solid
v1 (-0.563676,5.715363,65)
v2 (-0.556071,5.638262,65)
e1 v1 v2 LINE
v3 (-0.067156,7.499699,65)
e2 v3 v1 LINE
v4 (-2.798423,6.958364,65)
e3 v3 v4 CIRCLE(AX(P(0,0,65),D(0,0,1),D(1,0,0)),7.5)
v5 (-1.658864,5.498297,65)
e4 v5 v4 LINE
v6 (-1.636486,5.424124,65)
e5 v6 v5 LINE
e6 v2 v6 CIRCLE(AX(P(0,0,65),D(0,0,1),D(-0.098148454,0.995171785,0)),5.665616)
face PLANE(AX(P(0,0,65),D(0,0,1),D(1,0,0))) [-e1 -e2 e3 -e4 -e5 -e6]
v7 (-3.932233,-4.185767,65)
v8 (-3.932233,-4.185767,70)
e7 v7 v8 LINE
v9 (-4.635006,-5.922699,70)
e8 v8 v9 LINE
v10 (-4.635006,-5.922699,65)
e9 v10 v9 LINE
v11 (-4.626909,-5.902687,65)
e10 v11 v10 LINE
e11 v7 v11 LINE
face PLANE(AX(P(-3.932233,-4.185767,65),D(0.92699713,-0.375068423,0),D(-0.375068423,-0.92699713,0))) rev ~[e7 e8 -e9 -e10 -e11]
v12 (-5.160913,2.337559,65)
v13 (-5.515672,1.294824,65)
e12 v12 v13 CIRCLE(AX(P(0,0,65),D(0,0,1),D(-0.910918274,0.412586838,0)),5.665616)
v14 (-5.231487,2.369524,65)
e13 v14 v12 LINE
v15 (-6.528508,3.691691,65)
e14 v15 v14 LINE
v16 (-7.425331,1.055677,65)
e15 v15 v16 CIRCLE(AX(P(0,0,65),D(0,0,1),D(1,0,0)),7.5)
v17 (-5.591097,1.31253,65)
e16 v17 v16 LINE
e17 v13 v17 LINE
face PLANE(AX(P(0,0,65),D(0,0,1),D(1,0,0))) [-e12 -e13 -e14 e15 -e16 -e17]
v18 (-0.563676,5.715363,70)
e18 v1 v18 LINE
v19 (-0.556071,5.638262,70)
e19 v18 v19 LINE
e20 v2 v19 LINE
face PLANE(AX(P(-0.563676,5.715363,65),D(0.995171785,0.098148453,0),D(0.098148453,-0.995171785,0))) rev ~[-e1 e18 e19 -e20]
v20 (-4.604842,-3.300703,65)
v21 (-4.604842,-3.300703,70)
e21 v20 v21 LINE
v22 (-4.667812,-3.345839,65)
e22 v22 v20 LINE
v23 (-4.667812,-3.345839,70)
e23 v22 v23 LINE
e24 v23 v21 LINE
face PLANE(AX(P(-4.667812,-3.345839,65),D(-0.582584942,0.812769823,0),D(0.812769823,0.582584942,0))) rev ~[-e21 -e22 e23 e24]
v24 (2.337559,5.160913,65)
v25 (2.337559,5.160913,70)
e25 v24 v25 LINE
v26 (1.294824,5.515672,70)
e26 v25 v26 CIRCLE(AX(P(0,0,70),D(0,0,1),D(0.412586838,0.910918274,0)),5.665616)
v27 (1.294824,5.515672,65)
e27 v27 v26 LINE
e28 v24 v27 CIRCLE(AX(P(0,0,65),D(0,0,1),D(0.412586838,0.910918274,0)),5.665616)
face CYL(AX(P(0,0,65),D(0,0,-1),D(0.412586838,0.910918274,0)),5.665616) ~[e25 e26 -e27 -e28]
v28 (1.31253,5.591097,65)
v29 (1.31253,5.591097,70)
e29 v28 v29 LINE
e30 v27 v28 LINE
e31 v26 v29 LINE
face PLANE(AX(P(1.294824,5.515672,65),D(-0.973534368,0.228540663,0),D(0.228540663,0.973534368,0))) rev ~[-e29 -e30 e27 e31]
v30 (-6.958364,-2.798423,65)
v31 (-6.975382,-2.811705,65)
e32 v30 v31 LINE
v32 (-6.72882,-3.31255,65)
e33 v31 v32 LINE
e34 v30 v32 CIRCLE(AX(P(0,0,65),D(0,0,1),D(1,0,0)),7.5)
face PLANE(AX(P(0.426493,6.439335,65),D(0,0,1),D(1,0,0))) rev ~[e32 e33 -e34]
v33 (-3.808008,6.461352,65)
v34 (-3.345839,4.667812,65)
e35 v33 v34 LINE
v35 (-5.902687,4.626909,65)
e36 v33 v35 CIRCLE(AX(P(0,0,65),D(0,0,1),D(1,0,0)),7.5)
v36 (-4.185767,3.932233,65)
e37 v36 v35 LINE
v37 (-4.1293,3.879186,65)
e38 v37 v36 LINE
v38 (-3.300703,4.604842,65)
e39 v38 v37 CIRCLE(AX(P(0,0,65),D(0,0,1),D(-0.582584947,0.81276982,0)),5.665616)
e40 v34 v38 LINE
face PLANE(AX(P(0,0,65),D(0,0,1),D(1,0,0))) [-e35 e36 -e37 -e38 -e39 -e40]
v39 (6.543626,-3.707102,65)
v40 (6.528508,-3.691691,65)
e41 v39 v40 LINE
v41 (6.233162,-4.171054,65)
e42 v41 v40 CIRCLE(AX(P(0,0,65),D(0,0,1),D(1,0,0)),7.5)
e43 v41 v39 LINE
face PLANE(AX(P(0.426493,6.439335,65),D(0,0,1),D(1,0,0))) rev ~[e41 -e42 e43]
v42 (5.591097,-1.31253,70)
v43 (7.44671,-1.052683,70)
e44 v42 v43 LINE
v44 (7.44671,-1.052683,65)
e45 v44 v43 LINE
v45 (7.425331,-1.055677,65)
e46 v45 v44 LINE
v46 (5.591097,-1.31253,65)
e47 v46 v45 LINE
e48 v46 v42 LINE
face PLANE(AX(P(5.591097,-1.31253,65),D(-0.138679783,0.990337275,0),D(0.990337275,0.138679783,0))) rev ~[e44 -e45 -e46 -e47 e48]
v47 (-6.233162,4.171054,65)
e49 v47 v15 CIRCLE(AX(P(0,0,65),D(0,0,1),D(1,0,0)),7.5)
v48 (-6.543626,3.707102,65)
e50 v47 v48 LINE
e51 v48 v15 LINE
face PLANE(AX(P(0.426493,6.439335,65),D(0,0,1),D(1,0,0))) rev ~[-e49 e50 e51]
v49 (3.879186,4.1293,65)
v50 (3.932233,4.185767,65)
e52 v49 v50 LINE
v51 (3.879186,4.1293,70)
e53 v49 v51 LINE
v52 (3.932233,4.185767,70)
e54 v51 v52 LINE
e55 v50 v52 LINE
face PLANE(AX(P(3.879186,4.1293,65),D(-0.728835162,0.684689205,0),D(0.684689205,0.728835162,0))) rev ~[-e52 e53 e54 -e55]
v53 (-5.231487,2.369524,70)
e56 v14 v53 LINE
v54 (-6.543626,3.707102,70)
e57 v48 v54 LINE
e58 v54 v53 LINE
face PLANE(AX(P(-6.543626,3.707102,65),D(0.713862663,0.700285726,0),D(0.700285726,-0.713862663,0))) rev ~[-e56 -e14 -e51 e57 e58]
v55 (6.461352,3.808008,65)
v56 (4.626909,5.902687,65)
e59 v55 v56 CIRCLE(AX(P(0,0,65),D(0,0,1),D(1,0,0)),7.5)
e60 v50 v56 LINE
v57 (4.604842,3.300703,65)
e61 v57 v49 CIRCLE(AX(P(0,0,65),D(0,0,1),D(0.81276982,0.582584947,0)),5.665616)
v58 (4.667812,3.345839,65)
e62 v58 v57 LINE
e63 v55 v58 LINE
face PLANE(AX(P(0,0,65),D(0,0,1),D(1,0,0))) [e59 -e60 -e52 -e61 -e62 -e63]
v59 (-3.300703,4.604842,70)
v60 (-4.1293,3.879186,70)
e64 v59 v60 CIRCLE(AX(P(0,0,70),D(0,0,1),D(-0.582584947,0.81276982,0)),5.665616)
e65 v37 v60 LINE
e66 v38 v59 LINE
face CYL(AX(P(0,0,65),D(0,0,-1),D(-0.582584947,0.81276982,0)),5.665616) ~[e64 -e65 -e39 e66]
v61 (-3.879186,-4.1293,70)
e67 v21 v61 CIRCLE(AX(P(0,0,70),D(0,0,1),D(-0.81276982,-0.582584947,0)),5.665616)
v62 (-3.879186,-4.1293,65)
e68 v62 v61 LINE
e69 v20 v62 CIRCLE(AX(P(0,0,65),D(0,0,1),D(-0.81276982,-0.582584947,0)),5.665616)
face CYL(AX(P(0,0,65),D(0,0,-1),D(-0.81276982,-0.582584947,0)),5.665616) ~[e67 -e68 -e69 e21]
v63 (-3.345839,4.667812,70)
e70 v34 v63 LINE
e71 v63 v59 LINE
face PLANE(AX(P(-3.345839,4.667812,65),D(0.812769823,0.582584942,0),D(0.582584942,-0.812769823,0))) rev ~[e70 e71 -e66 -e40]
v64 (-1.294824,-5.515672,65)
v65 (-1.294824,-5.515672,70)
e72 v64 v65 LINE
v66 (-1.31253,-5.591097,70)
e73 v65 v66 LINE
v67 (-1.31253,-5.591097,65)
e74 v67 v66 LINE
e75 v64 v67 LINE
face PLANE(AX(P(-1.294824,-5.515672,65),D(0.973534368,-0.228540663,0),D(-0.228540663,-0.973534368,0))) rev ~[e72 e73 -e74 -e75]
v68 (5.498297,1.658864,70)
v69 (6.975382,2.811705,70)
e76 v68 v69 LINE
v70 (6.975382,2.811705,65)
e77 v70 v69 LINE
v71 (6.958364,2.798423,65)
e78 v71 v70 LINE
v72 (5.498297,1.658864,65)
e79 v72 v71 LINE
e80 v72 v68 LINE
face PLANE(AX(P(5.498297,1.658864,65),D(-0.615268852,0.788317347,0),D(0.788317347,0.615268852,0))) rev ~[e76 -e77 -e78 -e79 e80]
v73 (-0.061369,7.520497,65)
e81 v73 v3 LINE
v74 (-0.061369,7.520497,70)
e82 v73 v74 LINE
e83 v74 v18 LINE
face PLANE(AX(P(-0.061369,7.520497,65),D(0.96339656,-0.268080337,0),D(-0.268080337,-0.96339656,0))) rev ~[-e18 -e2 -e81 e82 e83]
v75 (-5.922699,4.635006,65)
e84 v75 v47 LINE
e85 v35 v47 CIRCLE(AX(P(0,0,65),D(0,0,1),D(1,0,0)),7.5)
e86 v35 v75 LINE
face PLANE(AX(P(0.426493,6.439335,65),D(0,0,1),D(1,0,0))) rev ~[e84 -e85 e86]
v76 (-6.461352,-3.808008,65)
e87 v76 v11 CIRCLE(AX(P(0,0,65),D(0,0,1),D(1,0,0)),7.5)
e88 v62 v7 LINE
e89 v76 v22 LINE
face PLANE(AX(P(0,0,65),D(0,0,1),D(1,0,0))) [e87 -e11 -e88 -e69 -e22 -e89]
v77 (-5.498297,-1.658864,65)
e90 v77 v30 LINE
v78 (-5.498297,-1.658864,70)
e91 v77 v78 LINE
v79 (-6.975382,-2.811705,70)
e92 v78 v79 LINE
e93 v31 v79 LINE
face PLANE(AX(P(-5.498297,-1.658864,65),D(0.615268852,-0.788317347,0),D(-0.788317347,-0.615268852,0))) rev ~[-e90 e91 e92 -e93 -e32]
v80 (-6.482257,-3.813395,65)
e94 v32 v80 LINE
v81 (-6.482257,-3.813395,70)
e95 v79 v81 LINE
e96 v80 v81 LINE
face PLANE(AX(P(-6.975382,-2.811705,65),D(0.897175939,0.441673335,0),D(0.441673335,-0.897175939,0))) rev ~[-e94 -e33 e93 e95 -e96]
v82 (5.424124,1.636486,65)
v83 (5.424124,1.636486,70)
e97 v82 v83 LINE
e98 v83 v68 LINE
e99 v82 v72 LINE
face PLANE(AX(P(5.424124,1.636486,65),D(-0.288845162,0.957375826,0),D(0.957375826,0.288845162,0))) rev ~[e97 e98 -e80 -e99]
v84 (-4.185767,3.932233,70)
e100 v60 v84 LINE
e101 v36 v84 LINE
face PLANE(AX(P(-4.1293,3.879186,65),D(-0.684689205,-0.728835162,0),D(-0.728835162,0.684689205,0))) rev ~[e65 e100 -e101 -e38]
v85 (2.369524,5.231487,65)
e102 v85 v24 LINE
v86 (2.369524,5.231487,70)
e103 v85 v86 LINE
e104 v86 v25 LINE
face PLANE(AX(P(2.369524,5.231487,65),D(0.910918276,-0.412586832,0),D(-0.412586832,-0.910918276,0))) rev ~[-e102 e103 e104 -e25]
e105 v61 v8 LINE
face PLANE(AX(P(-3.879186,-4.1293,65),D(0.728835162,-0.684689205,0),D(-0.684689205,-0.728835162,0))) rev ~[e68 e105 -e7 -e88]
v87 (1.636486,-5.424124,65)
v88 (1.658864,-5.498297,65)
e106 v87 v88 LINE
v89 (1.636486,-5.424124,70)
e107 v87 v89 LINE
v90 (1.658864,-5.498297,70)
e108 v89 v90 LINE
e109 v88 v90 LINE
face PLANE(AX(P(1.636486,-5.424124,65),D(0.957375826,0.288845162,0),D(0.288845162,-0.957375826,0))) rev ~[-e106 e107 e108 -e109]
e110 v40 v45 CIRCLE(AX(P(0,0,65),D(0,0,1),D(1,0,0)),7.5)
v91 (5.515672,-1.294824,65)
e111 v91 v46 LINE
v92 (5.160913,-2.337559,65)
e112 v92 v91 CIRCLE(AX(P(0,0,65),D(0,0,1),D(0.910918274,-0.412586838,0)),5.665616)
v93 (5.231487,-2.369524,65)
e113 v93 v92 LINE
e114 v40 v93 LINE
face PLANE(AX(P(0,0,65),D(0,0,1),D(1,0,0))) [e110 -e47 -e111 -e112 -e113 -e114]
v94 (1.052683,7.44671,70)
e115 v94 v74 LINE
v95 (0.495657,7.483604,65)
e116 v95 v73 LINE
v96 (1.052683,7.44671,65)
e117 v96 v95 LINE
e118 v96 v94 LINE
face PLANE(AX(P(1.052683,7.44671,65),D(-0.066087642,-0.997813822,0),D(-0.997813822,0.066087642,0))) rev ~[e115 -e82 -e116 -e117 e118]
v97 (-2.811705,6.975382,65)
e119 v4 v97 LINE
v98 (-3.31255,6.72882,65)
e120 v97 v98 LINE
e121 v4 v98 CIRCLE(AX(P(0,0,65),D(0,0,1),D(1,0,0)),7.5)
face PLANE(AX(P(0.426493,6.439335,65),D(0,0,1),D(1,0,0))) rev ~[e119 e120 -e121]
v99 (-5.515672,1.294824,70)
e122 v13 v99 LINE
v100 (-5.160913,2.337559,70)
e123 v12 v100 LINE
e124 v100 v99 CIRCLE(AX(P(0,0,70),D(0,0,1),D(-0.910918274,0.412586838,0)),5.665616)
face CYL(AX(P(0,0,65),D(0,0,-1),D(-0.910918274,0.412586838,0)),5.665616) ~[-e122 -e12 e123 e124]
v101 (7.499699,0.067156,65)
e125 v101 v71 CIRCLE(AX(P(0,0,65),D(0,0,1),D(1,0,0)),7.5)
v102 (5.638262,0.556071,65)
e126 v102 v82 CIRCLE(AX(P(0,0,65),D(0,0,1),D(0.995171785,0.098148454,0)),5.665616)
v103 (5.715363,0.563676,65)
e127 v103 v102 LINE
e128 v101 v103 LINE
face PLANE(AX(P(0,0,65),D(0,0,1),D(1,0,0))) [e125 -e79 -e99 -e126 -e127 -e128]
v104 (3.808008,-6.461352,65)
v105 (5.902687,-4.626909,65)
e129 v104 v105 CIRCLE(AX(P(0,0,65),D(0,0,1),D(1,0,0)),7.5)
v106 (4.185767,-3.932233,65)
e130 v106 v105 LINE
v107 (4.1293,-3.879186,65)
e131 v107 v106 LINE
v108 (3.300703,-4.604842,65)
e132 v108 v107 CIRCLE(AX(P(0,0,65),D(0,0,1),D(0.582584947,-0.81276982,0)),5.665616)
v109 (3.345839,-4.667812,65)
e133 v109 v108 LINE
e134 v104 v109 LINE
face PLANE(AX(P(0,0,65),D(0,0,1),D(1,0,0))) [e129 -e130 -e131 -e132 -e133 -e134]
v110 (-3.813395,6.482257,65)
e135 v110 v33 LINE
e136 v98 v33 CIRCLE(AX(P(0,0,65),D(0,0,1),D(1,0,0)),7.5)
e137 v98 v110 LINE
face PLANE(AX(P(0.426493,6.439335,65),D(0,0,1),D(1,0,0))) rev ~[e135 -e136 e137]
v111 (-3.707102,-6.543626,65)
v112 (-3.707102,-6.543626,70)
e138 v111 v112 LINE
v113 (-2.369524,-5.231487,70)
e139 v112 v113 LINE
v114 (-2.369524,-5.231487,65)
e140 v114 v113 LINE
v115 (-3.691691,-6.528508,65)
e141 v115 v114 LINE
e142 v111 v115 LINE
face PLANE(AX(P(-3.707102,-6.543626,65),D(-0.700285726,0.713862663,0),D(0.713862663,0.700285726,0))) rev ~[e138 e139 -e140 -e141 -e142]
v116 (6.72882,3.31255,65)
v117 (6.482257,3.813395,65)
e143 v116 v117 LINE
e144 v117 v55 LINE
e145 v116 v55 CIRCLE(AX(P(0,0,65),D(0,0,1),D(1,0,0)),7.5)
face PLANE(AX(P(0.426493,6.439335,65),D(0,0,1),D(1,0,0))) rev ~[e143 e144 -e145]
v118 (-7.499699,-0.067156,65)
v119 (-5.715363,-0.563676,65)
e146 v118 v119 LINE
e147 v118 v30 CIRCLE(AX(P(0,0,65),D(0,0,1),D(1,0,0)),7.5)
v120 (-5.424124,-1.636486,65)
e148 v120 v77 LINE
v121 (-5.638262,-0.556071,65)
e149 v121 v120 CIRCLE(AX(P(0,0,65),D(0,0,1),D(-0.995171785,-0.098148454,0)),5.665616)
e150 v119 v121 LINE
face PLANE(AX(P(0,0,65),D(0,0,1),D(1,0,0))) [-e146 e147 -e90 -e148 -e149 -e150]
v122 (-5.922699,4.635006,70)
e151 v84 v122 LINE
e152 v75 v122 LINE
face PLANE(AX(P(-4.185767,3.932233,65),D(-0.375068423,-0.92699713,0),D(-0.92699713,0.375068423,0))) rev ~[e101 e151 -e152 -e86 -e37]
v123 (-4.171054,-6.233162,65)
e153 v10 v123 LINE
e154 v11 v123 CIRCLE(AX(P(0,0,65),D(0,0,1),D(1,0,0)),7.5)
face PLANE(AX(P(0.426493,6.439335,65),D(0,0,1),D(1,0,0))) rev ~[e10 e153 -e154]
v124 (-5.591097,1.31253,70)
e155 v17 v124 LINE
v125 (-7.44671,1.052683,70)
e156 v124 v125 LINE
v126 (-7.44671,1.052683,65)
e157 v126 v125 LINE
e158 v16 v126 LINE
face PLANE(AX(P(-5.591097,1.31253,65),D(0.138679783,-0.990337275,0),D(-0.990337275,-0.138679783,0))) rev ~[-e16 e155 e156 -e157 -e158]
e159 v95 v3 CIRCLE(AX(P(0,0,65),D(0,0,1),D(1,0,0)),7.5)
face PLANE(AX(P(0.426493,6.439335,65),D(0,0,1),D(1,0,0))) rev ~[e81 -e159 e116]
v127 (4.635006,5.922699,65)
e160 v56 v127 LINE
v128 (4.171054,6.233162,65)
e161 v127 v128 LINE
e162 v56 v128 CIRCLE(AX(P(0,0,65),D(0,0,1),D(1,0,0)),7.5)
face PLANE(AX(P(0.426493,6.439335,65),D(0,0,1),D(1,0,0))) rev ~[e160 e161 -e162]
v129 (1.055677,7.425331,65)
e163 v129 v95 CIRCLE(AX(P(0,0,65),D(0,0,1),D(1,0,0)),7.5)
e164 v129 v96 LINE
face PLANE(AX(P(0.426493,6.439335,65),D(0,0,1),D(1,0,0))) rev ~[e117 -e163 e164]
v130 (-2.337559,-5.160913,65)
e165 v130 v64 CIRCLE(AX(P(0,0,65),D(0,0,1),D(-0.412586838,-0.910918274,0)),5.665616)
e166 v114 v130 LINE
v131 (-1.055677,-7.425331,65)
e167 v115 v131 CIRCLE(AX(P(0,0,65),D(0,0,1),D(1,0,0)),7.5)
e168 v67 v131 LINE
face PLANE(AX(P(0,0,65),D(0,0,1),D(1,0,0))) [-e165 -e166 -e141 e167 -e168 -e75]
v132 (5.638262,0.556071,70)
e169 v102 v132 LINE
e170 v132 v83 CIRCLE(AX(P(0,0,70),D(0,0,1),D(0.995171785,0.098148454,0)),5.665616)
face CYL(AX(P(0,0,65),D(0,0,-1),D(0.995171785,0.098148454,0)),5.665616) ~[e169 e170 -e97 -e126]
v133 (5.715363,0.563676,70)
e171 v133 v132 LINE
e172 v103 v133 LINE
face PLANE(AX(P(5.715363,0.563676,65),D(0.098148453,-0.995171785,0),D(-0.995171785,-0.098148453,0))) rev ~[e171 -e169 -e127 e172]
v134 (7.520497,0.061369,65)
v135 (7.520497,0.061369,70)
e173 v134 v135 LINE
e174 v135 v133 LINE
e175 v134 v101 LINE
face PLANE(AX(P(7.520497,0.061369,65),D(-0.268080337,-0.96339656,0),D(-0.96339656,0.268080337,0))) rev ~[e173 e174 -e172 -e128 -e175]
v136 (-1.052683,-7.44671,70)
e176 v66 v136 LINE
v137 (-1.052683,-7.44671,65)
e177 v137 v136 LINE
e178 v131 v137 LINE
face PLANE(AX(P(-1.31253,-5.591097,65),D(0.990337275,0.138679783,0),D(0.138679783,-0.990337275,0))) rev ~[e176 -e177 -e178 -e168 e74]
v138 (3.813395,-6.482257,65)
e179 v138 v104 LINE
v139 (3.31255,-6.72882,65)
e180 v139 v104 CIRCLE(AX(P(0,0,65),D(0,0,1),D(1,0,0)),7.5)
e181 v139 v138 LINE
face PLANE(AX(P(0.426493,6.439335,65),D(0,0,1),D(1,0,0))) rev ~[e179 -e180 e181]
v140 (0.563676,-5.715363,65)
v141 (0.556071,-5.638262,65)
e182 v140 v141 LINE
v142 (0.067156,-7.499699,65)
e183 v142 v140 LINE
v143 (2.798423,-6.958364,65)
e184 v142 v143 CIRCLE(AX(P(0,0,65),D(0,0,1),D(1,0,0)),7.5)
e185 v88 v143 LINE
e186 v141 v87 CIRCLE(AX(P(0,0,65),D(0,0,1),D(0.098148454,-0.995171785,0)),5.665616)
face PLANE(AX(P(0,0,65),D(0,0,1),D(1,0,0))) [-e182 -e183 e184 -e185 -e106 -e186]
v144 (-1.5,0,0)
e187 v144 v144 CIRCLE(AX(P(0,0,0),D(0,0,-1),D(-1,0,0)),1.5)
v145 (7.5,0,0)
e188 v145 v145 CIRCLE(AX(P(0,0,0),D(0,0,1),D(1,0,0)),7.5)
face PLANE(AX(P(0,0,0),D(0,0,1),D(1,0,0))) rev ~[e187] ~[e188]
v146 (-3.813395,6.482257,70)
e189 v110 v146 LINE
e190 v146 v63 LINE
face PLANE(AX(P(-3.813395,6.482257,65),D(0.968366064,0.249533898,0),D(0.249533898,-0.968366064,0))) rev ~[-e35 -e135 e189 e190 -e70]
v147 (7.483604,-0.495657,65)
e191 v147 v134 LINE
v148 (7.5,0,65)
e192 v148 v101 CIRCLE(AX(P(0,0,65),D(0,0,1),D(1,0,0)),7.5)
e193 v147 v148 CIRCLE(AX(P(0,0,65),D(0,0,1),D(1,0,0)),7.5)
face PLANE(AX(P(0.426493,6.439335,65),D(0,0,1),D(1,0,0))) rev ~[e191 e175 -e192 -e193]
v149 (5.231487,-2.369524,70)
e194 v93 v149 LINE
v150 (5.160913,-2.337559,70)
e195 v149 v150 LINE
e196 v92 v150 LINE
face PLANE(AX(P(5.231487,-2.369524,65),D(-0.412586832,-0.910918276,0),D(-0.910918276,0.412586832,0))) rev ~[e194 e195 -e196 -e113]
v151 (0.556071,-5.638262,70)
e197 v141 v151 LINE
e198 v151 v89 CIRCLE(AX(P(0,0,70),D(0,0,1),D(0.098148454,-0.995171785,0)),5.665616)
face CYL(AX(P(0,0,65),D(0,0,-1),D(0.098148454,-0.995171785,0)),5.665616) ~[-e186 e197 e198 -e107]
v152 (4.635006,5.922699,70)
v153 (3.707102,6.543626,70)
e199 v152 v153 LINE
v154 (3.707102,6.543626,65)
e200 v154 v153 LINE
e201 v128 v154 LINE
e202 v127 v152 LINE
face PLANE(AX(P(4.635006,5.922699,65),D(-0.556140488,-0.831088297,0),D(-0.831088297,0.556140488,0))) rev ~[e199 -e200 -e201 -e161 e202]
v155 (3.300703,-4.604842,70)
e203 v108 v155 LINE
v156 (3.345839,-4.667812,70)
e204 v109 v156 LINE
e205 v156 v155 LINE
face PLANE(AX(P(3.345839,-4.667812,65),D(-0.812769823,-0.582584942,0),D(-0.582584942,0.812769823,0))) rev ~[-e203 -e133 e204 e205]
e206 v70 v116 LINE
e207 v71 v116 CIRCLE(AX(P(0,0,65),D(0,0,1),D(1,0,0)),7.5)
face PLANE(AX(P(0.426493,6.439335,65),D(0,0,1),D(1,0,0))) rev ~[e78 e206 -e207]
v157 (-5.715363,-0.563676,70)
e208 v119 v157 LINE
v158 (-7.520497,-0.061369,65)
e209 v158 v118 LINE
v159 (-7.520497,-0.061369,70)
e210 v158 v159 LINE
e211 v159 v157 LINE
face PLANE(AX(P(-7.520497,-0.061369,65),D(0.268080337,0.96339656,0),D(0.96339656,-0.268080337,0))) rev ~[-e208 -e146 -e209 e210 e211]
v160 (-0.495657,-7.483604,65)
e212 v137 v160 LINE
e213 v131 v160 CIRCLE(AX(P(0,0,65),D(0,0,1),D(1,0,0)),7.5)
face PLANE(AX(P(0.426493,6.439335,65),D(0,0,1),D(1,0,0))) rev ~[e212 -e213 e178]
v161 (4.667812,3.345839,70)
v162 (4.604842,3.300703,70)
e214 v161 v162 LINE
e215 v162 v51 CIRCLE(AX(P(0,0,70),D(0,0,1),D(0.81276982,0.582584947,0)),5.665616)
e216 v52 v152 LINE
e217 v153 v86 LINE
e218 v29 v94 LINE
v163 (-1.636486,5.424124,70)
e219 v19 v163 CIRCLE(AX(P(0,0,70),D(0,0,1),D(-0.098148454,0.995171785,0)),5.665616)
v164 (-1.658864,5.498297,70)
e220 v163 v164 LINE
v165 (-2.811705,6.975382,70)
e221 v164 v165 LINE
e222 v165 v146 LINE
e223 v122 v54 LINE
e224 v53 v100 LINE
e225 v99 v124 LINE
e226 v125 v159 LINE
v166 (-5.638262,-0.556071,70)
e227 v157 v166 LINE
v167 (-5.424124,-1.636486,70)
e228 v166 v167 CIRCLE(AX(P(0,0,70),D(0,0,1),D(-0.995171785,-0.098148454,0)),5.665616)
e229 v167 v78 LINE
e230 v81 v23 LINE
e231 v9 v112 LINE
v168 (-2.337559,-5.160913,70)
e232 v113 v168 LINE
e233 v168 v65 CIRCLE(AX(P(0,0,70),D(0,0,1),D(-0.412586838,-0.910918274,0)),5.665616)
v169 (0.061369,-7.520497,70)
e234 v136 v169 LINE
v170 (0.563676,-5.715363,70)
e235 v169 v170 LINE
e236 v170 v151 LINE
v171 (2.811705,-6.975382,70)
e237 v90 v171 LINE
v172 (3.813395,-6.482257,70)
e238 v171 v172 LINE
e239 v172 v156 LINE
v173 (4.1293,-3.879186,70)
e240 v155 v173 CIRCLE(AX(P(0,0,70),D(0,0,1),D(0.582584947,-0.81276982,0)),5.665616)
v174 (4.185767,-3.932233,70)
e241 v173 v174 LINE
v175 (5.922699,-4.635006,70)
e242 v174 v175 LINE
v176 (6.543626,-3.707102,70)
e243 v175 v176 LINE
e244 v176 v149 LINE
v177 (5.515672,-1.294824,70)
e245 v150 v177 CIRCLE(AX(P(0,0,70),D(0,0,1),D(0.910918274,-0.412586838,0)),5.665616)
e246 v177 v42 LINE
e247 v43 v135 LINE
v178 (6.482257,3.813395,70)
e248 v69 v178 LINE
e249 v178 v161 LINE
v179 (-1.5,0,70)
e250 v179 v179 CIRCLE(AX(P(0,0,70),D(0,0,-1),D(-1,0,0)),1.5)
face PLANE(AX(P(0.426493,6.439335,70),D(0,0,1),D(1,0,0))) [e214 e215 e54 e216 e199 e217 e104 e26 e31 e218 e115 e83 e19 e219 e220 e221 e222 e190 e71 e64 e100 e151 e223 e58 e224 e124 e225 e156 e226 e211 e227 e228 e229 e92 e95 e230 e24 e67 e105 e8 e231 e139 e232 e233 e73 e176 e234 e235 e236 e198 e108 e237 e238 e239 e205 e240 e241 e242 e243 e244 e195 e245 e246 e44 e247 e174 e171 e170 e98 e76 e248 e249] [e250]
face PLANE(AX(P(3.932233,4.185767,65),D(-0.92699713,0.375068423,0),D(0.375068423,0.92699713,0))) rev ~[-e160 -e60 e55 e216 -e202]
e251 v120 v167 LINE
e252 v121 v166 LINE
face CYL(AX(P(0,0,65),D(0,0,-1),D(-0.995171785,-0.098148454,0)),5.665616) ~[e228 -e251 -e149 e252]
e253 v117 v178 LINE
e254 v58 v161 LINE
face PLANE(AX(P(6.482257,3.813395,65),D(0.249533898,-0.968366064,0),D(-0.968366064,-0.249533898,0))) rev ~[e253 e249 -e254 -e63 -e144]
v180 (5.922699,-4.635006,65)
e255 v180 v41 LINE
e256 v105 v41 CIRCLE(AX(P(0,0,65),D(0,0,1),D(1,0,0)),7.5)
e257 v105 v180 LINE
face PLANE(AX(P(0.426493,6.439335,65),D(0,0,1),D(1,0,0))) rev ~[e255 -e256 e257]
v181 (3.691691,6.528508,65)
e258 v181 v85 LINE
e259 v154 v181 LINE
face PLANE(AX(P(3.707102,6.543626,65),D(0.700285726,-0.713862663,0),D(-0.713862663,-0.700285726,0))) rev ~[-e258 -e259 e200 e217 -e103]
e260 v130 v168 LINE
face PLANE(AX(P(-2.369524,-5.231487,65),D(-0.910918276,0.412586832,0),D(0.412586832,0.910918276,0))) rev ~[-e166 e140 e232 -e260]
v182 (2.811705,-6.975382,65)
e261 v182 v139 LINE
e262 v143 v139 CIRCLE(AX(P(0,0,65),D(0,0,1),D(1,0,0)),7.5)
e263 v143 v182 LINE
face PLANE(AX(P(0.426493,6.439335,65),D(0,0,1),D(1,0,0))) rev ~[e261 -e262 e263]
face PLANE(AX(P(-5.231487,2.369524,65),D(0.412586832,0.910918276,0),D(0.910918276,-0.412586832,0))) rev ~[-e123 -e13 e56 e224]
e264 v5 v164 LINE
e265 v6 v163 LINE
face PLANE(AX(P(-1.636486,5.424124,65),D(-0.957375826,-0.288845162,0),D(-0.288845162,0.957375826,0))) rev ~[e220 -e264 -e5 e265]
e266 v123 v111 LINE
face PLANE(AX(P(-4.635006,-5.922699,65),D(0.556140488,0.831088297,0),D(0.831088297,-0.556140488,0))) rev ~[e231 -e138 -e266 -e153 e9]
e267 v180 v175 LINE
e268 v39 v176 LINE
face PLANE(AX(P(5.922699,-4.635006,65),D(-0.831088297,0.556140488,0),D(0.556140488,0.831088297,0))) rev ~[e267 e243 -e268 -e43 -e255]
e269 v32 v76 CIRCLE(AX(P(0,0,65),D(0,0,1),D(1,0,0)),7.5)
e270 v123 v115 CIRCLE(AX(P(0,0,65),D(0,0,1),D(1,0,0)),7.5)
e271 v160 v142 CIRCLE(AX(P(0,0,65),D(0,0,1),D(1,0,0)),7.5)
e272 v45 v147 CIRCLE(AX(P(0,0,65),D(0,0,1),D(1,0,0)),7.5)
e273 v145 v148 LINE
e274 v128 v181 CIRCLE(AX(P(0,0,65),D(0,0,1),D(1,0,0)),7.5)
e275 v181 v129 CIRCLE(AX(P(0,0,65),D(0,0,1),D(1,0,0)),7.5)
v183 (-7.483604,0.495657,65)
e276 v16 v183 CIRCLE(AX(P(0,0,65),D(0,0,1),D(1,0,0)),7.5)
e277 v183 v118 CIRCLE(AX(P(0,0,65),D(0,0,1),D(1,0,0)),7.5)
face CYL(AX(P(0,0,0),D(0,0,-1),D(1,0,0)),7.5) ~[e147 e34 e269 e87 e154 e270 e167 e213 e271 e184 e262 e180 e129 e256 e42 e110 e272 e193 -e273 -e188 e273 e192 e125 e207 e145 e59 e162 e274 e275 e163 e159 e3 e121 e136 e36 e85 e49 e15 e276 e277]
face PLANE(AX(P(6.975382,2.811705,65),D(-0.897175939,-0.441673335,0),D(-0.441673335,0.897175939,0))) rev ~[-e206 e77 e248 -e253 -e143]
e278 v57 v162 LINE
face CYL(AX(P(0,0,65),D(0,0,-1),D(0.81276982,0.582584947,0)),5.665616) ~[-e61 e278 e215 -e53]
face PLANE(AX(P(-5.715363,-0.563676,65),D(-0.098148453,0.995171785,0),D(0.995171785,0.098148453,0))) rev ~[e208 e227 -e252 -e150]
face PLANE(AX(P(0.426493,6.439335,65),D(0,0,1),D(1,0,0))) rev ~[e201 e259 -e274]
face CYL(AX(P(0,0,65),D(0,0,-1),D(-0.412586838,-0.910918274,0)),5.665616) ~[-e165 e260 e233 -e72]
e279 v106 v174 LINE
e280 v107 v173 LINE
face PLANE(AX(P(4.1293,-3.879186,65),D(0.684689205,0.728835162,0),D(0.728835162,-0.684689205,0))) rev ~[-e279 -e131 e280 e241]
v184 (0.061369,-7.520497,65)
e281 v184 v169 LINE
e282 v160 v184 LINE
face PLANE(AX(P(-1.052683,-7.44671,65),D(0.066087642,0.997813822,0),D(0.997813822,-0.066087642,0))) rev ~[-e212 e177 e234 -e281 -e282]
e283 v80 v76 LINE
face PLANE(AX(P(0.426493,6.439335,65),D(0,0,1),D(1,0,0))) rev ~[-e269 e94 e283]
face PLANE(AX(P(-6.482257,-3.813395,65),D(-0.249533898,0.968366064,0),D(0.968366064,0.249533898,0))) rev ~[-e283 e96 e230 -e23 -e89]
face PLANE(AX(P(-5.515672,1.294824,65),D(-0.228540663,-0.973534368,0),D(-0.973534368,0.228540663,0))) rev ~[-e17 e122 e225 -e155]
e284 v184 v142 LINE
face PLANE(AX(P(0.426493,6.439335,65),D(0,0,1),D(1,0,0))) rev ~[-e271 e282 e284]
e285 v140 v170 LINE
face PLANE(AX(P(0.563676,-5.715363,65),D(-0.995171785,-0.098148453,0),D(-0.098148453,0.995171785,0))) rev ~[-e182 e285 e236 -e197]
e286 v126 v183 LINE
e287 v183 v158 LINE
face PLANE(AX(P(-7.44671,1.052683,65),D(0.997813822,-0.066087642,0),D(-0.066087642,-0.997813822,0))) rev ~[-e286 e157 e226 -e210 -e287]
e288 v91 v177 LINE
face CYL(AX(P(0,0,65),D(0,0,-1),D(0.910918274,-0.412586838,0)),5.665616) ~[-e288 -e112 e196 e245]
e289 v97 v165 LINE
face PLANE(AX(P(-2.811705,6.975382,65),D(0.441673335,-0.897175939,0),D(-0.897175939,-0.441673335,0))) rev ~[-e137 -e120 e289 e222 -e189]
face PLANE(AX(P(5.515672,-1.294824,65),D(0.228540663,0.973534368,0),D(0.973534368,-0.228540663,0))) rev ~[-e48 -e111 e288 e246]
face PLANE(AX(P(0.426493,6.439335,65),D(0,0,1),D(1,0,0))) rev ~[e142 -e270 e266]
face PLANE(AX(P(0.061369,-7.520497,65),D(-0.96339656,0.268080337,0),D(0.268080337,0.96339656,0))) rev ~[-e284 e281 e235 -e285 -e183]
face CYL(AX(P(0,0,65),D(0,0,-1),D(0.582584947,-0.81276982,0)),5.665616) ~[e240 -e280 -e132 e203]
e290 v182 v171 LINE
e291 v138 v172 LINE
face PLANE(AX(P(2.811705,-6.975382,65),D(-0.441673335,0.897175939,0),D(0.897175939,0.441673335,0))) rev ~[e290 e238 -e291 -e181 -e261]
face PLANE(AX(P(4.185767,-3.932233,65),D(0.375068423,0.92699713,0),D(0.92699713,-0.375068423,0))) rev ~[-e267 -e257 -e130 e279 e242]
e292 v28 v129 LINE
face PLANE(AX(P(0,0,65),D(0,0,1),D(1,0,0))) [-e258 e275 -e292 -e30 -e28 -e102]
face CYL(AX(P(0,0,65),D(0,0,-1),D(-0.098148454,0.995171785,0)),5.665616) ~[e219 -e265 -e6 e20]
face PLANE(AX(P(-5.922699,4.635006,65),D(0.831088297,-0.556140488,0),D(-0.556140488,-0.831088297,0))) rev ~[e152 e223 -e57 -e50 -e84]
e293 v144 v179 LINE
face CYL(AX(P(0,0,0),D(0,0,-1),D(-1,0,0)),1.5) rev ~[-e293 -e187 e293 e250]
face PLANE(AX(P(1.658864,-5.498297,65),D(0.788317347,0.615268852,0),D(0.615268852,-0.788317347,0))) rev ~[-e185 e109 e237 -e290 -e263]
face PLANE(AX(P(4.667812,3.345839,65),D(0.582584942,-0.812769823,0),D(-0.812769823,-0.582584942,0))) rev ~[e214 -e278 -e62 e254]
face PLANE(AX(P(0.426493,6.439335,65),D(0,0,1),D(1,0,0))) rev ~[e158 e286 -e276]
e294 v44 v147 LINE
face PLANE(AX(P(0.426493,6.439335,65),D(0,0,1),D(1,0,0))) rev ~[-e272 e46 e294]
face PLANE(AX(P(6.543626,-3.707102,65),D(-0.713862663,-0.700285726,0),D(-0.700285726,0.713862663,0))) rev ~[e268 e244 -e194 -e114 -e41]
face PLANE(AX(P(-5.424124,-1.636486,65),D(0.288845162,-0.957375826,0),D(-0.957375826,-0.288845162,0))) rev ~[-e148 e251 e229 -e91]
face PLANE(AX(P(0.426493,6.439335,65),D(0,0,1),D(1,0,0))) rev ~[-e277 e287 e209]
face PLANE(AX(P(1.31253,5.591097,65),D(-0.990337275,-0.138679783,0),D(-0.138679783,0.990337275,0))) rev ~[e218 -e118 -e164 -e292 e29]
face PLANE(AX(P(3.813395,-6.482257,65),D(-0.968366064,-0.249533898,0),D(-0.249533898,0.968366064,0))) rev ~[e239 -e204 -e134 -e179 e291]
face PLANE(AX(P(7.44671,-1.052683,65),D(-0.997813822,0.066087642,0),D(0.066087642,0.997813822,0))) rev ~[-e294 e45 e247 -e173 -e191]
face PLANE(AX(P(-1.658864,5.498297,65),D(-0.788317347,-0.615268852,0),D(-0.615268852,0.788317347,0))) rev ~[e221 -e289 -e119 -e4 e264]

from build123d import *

# Parameters (mm, degrees)
SKETCH1_R           = 7.5
BOSS_EXTRUDE1_DEPTH = 65
BOSS_EXTRUDE7_DEPTH = 5
SKETCH5_R           = 1.5
CUT_EXTRUDE1_DEPTH  = 71.803359707


with BuildPart() as part:
    # Sketch1 → Boss-Extrude1 (new body)
    with BuildSketch(Plane.XY):
        Circle(SKETCH1_R)
    extrude(amount=BOSS_EXTRUDE1_DEPTH)

    # Sketch4 → Boss-Extrude7 (add)
    with BuildSketch(Plane.XY.offset(65)):
        with BuildLine():
            Line((1.29482372, 5.515672238), (1.312530063, 5.591097474))
            Line((1.312530063, 5.591097474), (1.052683226, 7.446710482))
            Line((1.052683226, 7.446710482), (-0.061368597, 7.52049685))
            Line((-0.061368597, 7.52049685), (-0.563675613, 5.715363149))
            Line((-0.563675613, 5.715363149), (-0.556071495, 5.63826154))
            ThreePointArc((-0.556071495, 5.63826154), (0.374427225, 5.653230311), (1.29482372, 5.515672238))
        make_face()
        with BuildLine():
            ThreePointArc((2.337558729, 5.160913474), (1.824832598, 5.363692263), (1.29482372, 5.515672238))
            Line((1.29482372, 5.515672238), (0, 0))
            Line((0, 0), (2.337558729, 5.160913474))
        make_face()
        with BuildLine():
            Line((0, 0), (1.29482372, 5.515672238))
            ThreePointArc((1.29482372, 5.515672238), (0.374427225, 5.653230311), (-0.556071495, 5.63826154))
            Line((-0.556071495, 5.63826154), (0, 0))
        make_face()
        with BuildLine():
            Line((-1.636485884, 5.424124137), (0, 0))
            Line((0, 0), (-0.556071495, 5.63826154))
            ThreePointArc((-0.556071495, 5.63826154), (-1.101494744, 5.557510057), (-1.636485884, 5.424124137))
        make_face()
        with BuildLine():
            Line((2.337558729, 5.160913474), (0, 0))
            Line((0, 0), (3.879186354, 4.129300417))
            ThreePointArc((3.879186354, 4.129300417), (3.150878645, 4.708627451), (2.337558729, 5.160913474))
        make_face()
        with BuildLine():
            Line((4.604841979, 3.300702811), (0, 0))
            Line((0, 0), (5.424124137, 1.636485884))
            ThreePointArc((5.424124137, 1.636485884), (5.083054676, 2.502351667), (4.604841979, 3.300702811))
        make_face()
        with BuildLine():
            Line((3.879186354, 4.129300417), (0, 0))
            Line((0, 0), (4.604841979, 3.300702811))
            ThreePointArc((4.604841979, 3.300702811), (4.262197519, 3.732677459), (3.879186354, 4.129300417))
        make_face()
        with BuildLine():
            Line((5.63826154, 0.556071495), (0, 0))
            Line((0, 0), (5.515672238, -1.29482372))
            ThreePointArc((5.515672238, -1.29482372), (5.628005488, -0.651738388), (5.665616357, 0))
            ThreePointArc((5.665616357, 0), (5.65877352, 0.27837196), (5.63826154, 0.556071495))
        make_face()
        with BuildLine():
            Line((5.424124137, 1.636485884), (0, 0))
            Line((0, 0), (5.63826154, 0.556071495))
            ThreePointArc((5.63826154, 0.556071495), (5.557510057, 1.101494744), (5.424124137, 1.636485884))
        make_face()
        with BuildLine():
            Line((5.160913474, -2.337558729), (0, 0))
            Line((0, 0), (4.129300417, -3.879186354))
            ThreePointArc((4.129300417, -3.879186354), (4.708627451, -3.150878645), (5.160913474, -2.337558729))
        make_face()
        with BuildLine():
            Line((5.515672238, -1.29482372), (0, 0))
            Line((0, 0), (5.160913474, -2.337558729))
            ThreePointArc((5.160913474, -2.337558729), (5.363692263, -1.824832598), (5.515672238, -1.29482372))
        make_face()
        with BuildLine():
            Line((3.300702811, -4.604841979), (0, 0))
            Line((0, 0), (1.636485884, -5.424124137))
            ThreePointArc((1.636485884, -5.424124137), (2.502351667, -5.083054676), (3.300702811, -4.604841979))
        make_face()
        with BuildLine():
            Line((4.129300417, -3.879186354), (0, 0))
            Line((0, 0), (3.300702811, -4.604841979))
            ThreePointArc((3.300702811, -4.604841979), (3.732677459, -4.262197519), (4.129300417, -3.879186354))
        make_face()
        with BuildLine():
            Line((0.556071495, -5.63826154), (0, 0))
            Line((0, 0), (-1.29482372, -5.515672238))
            ThreePointArc((-1.29482372, -5.515672238), (-0.374427225, -5.653230311), (0.556071495, -5.63826154))
        make_face()
        with BuildLine():
            Line((1.636485884, -5.424124137), (0, 0))
            Line((0, 0), (0.556071495, -5.63826154))
            ThreePointArc((0.556071495, -5.63826154), (1.101494744, -5.557510057), (1.636485884, -5.424124137))
        make_face()
        with BuildLine():
            Line((-2.337558729, -5.160913474), (0, 0))
            Line((0, 0), (-3.879186354, -4.129300417))
            ThreePointArc((-3.879186354, -4.129300417), (-3.150878645, -4.708627451), (-2.337558729, -5.160913474))
        make_face()
        with BuildLine():
            Line((-1.29482372, -5.515672238), (0, 0))
            Line((0, 0), (-2.337558729, -5.160913474))
            ThreePointArc((-2.337558729, -5.160913474), (-1.824832598, -5.363692263), (-1.29482372, -5.515672238))
        make_face()
        with BuildLine():
            Line((-4.604841979, -3.300702811), (0, 0))
            Line((0, 0), (-5.424124137, -1.636485884))
            ThreePointArc((-5.424124137, -1.636485884), (-5.083054676, -2.502351667), (-4.604841979, -3.300702811))
        make_face()
        with BuildLine():
            Line((-3.879186354, -4.129300417), (0, 0))
            Line((0, 0), (-4.604841979, -3.300702811))
            ThreePointArc((-4.604841979, -3.300702811), (-4.262197519, -3.732677459), (-3.879186354, -4.129300417))
        make_face()
        with BuildLine():
            Line((-5.63826154, -0.556071495), (0, 0))
            Line((0, 0), (-5.515672238, 1.29482372))
            ThreePointArc((-5.515672238, 1.29482372), (-5.653230311, 0.374427225), (-5.63826154, -0.556071495))
        make_face()
        with BuildLine():
            Line((-5.424124137, -1.636485884), (0, 0))
            Line((0, 0), (-5.63826154, -0.556071495))
            ThreePointArc((-5.63826154, -0.556071495), (-5.557510057, -1.101494744), (-5.424124137, -1.636485884))
        make_face()
        with BuildLine():
            Line((-5.160913474, 2.337558729), (0, 0))
            Line((0, 0), (-4.129300417, 3.879186354))
            ThreePointArc((-4.129300417, 3.879186354), (-4.708627451, 3.150878645), (-5.160913474, 2.337558729))
        make_face()
        with BuildLine():
            Line((-5.515672238, 1.29482372), (0, 0))
            Line((0, 0), (-5.160913474, 2.337558729))
            ThreePointArc((-5.160913474, 2.337558729), (-5.363692263, 1.824832598), (-5.515672238, 1.29482372))
        make_face()
        with BuildLine():
            Line((-3.300702811, 4.604841979), (0, 0))
            Line((0, 0), (-1.636485884, 5.424124137))
            ThreePointArc((-1.636485884, 5.424124137), (-2.502351667, 5.083054676), (-3.300702811, 4.604841979))
        make_face()
        with BuildLine():
            Line((-4.129300417, 3.879186354), (0, 0))
            Line((0, 0), (-3.300702811, 4.604841979))
            ThreePointArc((-3.300702811, 4.604841979), (-3.732677459, 4.262197519), (-4.129300417, 3.879186354))
        make_face()
        with BuildLine():
            Line((2.369524174, 5.231487486), (2.337558729, 5.160913474))
            ThreePointArc((2.337558729, 5.160913474), (3.150878645, 4.708627451), (3.879186354, 4.129300417))
            Line((3.879186354, 4.129300417), (3.932233115, 4.185767416))
            Line((3.932233115, 4.185767416), (4.635005657, 5.922698839))
            Line((4.635005657, 5.922698839), (3.707101661, 6.54362562))
            Line((3.707101661, 6.54362562), (2.369524174, 5.231487486))
        make_face()
        with BuildLine():
            ThreePointArc((4.604841979, 3.300702811), (5.083054676, 2.502351667), (5.424124137, 1.636485884))
            Line((5.424124137, 1.636485884), (5.498297479, 1.658864359))
            Line((5.498297479, 1.658864359), (6.975382065, 2.811704825))
            Line((6.975382065, 2.811704825), (6.482257022, 3.813395189))
            Line((6.482257022, 3.813395189), (4.667811873, 3.345838975))
            Line((4.667811873, 3.345838975), (4.604841979, 3.300702811))
        make_face()
        with BuildLine():
            ThreePointArc((5.665616357, 0), (5.628005488, -0.651738388), (5.515672238, -1.29482372))
            Line((5.515672238, -1.29482372), (5.591097474, -1.312530063))
            Line((5.591097474, -1.312530063), (7.446710482, -1.052683226))
            Line((7.446710482, -1.052683226), (7.52049685, 0.061368597))
            Line((7.52049685, 0.061368597), (5.715363149, 0.563675613))
            Line((5.715363149, 0.563675613), (5.63826154, 0.556071495))
            ThreePointArc((5.63826154, 0.556071495), (5.65877352, 0.27837196), (5.665616357, 0))
        make_face()
        with BuildLine():
            ThreePointArc((5.160913474, -2.337558729), (4.708627451, -3.150878645), (4.129300417, -3.879186354))
            Line((4.129300417, -3.879186354), (4.185767416, -3.932233115))
            Line((4.185767416, -3.932233115), (5.922698839, -4.635005657))
            Line((5.922698839, -4.635005657), (6.54362562, -3.707101661))
            Line((6.54362562, -3.707101661), (5.231487486, -2.369524174))
            Line((5.231487486, -2.369524174), (5.160913474, -2.337558729))
        make_face()
        with BuildLine():
            ThreePointArc((3.300702811, -4.604841979), (2.502351667, -5.083054676), (1.636485884, -5.424124137))
            Line((1.636485884, -5.424124137), (1.658864359, -5.498297479))
            Line((1.658864359, -5.498297479), (2.811704825, -6.975382065))
            Line((2.811704825, -6.975382065), (3.813395189, -6.482257022))
            Line((3.813395189, -6.482257022), (3.345838975, -4.667811873))
            Line((3.345838975, -4.667811873), (3.300702811, -4.604841979))
        make_face()
        with BuildLine():
            ThreePointArc((0.556071495, -5.63826154), (-0.374427225, -5.653230311), (-1.29482372, -5.515672238))
            Line((-1.29482372, -5.515672238), (-1.312530063, -5.591097474))
            Line((-1.312530063, -5.591097474), (-1.052683226, -7.446710482))
            Line((-1.052683226, -7.446710482), (0.061368597, -7.52049685))
            Line((0.061368597, -7.52049685), (0.563675613, -5.715363149))
            Line((0.563675613, -5.715363149), (0.556071495, -5.63826154))
        make_face()
        with BuildLine():
            ThreePointArc((-2.337558729, -5.160913474), (-3.150878645, -4.708627451), (-3.879186354, -4.129300417))
            Line((-3.879186354, -4.129300417), (-3.932233115, -4.185767416))
            Line((-3.932233115, -4.185767416), (-4.635005657, -5.922698839))
            Line((-4.635005657, -5.922698839), (-3.707101661, -6.54362562))
            Line((-3.707101661, -6.54362562), (-2.369524174, -5.231487486))
            Line((-2.369524174, -5.231487486), (-2.337558729, -5.160913474))
        make_face()
        with BuildLine():
            ThreePointArc((-4.604841979, -3.300702811), (-5.083054676, -2.502351667), (-5.424124137, -1.636485884))
            Line((-5.424124137, -1.636485884), (-5.498297479, -1.658864359))
            Line((-5.498297479, -1.658864359), (-6.975382065, -2.811704825))
            Line((-6.975382065, -2.811704825), (-6.482257022, -3.813395189))
            Line((-6.482257022, -3.813395189), (-4.667811873, -3.345838975))
            Line((-4.667811873, -3.345838975), (-4.604841979, -3.300702811))
        make_face()
        with BuildLine():
            ThreePointArc((-5.63826154, -0.556071495), (-5.653230311, 0.374427225), (-5.515672238, 1.29482372))
            Line((-5.515672238, 1.29482372), (-5.591097474, 1.312530063))
            Line((-5.591097474, 1.312530063), (-7.446710482, 1.052683226))
            Line((-7.446710482, 1.052683226), (-7.52049685, -0.061368597))
            Line((-7.52049685, -0.061368597), (-5.715363149, -0.563675613))
            Line((-5.715363149, -0.563675613), (-5.63826154, -0.556071495))
        make_face()
        with BuildLine():
            ThreePointArc((-5.160913474, 2.337558729), (-4.708627451, 3.150878645), (-4.129300417, 3.879186354))
            Line((-4.129300417, 3.879186354), (-4.185767416, 3.932233115))
            Line((-4.185767416, 3.932233115), (-5.922698839, 4.635005657))
            Line((-5.922698839, 4.635005657), (-6.54362562, 3.707101661))
            Line((-6.54362562, 3.707101661), (-5.231487486, 2.369524174))
            Line((-5.231487486, 2.369524174), (-5.160913474, 2.337558729))
        make_face()
        with BuildLine():
            ThreePointArc((-3.300702811, 4.604841979), (-2.502351667, 5.083054676), (-1.636485884, 5.424124137))
            Line((-1.636485884, 5.424124137), (-1.658864359, 5.498297479))
            Line((-1.658864359, 5.498297479), (-2.811704825, 6.975382065))
            Line((-2.811704825, 6.975382065), (-3.813395189, 6.482257022))
            Line((-3.813395189, 6.482257022), (-3.345838975, 4.667811873))
            Line((-3.345838975, 4.667811873), (-3.300702811, 4.604841979))
        make_face()
    extrude(amount=BOSS_EXTRUDE7_DEPTH)

    # Sketch5 → Cut-Extrude1 (cut, through all)
    with BuildSketch(Plane(origin=(0, 0, 0), x_dir=(-1, 0, 0), z_dir=(0, 0, -1))):
        Circle(SKETCH5_R)
    extrude(amount=-CUT_EXTRUDE1_DEPTH, mode=Mode.SUBTRACT)


solid = part.part
